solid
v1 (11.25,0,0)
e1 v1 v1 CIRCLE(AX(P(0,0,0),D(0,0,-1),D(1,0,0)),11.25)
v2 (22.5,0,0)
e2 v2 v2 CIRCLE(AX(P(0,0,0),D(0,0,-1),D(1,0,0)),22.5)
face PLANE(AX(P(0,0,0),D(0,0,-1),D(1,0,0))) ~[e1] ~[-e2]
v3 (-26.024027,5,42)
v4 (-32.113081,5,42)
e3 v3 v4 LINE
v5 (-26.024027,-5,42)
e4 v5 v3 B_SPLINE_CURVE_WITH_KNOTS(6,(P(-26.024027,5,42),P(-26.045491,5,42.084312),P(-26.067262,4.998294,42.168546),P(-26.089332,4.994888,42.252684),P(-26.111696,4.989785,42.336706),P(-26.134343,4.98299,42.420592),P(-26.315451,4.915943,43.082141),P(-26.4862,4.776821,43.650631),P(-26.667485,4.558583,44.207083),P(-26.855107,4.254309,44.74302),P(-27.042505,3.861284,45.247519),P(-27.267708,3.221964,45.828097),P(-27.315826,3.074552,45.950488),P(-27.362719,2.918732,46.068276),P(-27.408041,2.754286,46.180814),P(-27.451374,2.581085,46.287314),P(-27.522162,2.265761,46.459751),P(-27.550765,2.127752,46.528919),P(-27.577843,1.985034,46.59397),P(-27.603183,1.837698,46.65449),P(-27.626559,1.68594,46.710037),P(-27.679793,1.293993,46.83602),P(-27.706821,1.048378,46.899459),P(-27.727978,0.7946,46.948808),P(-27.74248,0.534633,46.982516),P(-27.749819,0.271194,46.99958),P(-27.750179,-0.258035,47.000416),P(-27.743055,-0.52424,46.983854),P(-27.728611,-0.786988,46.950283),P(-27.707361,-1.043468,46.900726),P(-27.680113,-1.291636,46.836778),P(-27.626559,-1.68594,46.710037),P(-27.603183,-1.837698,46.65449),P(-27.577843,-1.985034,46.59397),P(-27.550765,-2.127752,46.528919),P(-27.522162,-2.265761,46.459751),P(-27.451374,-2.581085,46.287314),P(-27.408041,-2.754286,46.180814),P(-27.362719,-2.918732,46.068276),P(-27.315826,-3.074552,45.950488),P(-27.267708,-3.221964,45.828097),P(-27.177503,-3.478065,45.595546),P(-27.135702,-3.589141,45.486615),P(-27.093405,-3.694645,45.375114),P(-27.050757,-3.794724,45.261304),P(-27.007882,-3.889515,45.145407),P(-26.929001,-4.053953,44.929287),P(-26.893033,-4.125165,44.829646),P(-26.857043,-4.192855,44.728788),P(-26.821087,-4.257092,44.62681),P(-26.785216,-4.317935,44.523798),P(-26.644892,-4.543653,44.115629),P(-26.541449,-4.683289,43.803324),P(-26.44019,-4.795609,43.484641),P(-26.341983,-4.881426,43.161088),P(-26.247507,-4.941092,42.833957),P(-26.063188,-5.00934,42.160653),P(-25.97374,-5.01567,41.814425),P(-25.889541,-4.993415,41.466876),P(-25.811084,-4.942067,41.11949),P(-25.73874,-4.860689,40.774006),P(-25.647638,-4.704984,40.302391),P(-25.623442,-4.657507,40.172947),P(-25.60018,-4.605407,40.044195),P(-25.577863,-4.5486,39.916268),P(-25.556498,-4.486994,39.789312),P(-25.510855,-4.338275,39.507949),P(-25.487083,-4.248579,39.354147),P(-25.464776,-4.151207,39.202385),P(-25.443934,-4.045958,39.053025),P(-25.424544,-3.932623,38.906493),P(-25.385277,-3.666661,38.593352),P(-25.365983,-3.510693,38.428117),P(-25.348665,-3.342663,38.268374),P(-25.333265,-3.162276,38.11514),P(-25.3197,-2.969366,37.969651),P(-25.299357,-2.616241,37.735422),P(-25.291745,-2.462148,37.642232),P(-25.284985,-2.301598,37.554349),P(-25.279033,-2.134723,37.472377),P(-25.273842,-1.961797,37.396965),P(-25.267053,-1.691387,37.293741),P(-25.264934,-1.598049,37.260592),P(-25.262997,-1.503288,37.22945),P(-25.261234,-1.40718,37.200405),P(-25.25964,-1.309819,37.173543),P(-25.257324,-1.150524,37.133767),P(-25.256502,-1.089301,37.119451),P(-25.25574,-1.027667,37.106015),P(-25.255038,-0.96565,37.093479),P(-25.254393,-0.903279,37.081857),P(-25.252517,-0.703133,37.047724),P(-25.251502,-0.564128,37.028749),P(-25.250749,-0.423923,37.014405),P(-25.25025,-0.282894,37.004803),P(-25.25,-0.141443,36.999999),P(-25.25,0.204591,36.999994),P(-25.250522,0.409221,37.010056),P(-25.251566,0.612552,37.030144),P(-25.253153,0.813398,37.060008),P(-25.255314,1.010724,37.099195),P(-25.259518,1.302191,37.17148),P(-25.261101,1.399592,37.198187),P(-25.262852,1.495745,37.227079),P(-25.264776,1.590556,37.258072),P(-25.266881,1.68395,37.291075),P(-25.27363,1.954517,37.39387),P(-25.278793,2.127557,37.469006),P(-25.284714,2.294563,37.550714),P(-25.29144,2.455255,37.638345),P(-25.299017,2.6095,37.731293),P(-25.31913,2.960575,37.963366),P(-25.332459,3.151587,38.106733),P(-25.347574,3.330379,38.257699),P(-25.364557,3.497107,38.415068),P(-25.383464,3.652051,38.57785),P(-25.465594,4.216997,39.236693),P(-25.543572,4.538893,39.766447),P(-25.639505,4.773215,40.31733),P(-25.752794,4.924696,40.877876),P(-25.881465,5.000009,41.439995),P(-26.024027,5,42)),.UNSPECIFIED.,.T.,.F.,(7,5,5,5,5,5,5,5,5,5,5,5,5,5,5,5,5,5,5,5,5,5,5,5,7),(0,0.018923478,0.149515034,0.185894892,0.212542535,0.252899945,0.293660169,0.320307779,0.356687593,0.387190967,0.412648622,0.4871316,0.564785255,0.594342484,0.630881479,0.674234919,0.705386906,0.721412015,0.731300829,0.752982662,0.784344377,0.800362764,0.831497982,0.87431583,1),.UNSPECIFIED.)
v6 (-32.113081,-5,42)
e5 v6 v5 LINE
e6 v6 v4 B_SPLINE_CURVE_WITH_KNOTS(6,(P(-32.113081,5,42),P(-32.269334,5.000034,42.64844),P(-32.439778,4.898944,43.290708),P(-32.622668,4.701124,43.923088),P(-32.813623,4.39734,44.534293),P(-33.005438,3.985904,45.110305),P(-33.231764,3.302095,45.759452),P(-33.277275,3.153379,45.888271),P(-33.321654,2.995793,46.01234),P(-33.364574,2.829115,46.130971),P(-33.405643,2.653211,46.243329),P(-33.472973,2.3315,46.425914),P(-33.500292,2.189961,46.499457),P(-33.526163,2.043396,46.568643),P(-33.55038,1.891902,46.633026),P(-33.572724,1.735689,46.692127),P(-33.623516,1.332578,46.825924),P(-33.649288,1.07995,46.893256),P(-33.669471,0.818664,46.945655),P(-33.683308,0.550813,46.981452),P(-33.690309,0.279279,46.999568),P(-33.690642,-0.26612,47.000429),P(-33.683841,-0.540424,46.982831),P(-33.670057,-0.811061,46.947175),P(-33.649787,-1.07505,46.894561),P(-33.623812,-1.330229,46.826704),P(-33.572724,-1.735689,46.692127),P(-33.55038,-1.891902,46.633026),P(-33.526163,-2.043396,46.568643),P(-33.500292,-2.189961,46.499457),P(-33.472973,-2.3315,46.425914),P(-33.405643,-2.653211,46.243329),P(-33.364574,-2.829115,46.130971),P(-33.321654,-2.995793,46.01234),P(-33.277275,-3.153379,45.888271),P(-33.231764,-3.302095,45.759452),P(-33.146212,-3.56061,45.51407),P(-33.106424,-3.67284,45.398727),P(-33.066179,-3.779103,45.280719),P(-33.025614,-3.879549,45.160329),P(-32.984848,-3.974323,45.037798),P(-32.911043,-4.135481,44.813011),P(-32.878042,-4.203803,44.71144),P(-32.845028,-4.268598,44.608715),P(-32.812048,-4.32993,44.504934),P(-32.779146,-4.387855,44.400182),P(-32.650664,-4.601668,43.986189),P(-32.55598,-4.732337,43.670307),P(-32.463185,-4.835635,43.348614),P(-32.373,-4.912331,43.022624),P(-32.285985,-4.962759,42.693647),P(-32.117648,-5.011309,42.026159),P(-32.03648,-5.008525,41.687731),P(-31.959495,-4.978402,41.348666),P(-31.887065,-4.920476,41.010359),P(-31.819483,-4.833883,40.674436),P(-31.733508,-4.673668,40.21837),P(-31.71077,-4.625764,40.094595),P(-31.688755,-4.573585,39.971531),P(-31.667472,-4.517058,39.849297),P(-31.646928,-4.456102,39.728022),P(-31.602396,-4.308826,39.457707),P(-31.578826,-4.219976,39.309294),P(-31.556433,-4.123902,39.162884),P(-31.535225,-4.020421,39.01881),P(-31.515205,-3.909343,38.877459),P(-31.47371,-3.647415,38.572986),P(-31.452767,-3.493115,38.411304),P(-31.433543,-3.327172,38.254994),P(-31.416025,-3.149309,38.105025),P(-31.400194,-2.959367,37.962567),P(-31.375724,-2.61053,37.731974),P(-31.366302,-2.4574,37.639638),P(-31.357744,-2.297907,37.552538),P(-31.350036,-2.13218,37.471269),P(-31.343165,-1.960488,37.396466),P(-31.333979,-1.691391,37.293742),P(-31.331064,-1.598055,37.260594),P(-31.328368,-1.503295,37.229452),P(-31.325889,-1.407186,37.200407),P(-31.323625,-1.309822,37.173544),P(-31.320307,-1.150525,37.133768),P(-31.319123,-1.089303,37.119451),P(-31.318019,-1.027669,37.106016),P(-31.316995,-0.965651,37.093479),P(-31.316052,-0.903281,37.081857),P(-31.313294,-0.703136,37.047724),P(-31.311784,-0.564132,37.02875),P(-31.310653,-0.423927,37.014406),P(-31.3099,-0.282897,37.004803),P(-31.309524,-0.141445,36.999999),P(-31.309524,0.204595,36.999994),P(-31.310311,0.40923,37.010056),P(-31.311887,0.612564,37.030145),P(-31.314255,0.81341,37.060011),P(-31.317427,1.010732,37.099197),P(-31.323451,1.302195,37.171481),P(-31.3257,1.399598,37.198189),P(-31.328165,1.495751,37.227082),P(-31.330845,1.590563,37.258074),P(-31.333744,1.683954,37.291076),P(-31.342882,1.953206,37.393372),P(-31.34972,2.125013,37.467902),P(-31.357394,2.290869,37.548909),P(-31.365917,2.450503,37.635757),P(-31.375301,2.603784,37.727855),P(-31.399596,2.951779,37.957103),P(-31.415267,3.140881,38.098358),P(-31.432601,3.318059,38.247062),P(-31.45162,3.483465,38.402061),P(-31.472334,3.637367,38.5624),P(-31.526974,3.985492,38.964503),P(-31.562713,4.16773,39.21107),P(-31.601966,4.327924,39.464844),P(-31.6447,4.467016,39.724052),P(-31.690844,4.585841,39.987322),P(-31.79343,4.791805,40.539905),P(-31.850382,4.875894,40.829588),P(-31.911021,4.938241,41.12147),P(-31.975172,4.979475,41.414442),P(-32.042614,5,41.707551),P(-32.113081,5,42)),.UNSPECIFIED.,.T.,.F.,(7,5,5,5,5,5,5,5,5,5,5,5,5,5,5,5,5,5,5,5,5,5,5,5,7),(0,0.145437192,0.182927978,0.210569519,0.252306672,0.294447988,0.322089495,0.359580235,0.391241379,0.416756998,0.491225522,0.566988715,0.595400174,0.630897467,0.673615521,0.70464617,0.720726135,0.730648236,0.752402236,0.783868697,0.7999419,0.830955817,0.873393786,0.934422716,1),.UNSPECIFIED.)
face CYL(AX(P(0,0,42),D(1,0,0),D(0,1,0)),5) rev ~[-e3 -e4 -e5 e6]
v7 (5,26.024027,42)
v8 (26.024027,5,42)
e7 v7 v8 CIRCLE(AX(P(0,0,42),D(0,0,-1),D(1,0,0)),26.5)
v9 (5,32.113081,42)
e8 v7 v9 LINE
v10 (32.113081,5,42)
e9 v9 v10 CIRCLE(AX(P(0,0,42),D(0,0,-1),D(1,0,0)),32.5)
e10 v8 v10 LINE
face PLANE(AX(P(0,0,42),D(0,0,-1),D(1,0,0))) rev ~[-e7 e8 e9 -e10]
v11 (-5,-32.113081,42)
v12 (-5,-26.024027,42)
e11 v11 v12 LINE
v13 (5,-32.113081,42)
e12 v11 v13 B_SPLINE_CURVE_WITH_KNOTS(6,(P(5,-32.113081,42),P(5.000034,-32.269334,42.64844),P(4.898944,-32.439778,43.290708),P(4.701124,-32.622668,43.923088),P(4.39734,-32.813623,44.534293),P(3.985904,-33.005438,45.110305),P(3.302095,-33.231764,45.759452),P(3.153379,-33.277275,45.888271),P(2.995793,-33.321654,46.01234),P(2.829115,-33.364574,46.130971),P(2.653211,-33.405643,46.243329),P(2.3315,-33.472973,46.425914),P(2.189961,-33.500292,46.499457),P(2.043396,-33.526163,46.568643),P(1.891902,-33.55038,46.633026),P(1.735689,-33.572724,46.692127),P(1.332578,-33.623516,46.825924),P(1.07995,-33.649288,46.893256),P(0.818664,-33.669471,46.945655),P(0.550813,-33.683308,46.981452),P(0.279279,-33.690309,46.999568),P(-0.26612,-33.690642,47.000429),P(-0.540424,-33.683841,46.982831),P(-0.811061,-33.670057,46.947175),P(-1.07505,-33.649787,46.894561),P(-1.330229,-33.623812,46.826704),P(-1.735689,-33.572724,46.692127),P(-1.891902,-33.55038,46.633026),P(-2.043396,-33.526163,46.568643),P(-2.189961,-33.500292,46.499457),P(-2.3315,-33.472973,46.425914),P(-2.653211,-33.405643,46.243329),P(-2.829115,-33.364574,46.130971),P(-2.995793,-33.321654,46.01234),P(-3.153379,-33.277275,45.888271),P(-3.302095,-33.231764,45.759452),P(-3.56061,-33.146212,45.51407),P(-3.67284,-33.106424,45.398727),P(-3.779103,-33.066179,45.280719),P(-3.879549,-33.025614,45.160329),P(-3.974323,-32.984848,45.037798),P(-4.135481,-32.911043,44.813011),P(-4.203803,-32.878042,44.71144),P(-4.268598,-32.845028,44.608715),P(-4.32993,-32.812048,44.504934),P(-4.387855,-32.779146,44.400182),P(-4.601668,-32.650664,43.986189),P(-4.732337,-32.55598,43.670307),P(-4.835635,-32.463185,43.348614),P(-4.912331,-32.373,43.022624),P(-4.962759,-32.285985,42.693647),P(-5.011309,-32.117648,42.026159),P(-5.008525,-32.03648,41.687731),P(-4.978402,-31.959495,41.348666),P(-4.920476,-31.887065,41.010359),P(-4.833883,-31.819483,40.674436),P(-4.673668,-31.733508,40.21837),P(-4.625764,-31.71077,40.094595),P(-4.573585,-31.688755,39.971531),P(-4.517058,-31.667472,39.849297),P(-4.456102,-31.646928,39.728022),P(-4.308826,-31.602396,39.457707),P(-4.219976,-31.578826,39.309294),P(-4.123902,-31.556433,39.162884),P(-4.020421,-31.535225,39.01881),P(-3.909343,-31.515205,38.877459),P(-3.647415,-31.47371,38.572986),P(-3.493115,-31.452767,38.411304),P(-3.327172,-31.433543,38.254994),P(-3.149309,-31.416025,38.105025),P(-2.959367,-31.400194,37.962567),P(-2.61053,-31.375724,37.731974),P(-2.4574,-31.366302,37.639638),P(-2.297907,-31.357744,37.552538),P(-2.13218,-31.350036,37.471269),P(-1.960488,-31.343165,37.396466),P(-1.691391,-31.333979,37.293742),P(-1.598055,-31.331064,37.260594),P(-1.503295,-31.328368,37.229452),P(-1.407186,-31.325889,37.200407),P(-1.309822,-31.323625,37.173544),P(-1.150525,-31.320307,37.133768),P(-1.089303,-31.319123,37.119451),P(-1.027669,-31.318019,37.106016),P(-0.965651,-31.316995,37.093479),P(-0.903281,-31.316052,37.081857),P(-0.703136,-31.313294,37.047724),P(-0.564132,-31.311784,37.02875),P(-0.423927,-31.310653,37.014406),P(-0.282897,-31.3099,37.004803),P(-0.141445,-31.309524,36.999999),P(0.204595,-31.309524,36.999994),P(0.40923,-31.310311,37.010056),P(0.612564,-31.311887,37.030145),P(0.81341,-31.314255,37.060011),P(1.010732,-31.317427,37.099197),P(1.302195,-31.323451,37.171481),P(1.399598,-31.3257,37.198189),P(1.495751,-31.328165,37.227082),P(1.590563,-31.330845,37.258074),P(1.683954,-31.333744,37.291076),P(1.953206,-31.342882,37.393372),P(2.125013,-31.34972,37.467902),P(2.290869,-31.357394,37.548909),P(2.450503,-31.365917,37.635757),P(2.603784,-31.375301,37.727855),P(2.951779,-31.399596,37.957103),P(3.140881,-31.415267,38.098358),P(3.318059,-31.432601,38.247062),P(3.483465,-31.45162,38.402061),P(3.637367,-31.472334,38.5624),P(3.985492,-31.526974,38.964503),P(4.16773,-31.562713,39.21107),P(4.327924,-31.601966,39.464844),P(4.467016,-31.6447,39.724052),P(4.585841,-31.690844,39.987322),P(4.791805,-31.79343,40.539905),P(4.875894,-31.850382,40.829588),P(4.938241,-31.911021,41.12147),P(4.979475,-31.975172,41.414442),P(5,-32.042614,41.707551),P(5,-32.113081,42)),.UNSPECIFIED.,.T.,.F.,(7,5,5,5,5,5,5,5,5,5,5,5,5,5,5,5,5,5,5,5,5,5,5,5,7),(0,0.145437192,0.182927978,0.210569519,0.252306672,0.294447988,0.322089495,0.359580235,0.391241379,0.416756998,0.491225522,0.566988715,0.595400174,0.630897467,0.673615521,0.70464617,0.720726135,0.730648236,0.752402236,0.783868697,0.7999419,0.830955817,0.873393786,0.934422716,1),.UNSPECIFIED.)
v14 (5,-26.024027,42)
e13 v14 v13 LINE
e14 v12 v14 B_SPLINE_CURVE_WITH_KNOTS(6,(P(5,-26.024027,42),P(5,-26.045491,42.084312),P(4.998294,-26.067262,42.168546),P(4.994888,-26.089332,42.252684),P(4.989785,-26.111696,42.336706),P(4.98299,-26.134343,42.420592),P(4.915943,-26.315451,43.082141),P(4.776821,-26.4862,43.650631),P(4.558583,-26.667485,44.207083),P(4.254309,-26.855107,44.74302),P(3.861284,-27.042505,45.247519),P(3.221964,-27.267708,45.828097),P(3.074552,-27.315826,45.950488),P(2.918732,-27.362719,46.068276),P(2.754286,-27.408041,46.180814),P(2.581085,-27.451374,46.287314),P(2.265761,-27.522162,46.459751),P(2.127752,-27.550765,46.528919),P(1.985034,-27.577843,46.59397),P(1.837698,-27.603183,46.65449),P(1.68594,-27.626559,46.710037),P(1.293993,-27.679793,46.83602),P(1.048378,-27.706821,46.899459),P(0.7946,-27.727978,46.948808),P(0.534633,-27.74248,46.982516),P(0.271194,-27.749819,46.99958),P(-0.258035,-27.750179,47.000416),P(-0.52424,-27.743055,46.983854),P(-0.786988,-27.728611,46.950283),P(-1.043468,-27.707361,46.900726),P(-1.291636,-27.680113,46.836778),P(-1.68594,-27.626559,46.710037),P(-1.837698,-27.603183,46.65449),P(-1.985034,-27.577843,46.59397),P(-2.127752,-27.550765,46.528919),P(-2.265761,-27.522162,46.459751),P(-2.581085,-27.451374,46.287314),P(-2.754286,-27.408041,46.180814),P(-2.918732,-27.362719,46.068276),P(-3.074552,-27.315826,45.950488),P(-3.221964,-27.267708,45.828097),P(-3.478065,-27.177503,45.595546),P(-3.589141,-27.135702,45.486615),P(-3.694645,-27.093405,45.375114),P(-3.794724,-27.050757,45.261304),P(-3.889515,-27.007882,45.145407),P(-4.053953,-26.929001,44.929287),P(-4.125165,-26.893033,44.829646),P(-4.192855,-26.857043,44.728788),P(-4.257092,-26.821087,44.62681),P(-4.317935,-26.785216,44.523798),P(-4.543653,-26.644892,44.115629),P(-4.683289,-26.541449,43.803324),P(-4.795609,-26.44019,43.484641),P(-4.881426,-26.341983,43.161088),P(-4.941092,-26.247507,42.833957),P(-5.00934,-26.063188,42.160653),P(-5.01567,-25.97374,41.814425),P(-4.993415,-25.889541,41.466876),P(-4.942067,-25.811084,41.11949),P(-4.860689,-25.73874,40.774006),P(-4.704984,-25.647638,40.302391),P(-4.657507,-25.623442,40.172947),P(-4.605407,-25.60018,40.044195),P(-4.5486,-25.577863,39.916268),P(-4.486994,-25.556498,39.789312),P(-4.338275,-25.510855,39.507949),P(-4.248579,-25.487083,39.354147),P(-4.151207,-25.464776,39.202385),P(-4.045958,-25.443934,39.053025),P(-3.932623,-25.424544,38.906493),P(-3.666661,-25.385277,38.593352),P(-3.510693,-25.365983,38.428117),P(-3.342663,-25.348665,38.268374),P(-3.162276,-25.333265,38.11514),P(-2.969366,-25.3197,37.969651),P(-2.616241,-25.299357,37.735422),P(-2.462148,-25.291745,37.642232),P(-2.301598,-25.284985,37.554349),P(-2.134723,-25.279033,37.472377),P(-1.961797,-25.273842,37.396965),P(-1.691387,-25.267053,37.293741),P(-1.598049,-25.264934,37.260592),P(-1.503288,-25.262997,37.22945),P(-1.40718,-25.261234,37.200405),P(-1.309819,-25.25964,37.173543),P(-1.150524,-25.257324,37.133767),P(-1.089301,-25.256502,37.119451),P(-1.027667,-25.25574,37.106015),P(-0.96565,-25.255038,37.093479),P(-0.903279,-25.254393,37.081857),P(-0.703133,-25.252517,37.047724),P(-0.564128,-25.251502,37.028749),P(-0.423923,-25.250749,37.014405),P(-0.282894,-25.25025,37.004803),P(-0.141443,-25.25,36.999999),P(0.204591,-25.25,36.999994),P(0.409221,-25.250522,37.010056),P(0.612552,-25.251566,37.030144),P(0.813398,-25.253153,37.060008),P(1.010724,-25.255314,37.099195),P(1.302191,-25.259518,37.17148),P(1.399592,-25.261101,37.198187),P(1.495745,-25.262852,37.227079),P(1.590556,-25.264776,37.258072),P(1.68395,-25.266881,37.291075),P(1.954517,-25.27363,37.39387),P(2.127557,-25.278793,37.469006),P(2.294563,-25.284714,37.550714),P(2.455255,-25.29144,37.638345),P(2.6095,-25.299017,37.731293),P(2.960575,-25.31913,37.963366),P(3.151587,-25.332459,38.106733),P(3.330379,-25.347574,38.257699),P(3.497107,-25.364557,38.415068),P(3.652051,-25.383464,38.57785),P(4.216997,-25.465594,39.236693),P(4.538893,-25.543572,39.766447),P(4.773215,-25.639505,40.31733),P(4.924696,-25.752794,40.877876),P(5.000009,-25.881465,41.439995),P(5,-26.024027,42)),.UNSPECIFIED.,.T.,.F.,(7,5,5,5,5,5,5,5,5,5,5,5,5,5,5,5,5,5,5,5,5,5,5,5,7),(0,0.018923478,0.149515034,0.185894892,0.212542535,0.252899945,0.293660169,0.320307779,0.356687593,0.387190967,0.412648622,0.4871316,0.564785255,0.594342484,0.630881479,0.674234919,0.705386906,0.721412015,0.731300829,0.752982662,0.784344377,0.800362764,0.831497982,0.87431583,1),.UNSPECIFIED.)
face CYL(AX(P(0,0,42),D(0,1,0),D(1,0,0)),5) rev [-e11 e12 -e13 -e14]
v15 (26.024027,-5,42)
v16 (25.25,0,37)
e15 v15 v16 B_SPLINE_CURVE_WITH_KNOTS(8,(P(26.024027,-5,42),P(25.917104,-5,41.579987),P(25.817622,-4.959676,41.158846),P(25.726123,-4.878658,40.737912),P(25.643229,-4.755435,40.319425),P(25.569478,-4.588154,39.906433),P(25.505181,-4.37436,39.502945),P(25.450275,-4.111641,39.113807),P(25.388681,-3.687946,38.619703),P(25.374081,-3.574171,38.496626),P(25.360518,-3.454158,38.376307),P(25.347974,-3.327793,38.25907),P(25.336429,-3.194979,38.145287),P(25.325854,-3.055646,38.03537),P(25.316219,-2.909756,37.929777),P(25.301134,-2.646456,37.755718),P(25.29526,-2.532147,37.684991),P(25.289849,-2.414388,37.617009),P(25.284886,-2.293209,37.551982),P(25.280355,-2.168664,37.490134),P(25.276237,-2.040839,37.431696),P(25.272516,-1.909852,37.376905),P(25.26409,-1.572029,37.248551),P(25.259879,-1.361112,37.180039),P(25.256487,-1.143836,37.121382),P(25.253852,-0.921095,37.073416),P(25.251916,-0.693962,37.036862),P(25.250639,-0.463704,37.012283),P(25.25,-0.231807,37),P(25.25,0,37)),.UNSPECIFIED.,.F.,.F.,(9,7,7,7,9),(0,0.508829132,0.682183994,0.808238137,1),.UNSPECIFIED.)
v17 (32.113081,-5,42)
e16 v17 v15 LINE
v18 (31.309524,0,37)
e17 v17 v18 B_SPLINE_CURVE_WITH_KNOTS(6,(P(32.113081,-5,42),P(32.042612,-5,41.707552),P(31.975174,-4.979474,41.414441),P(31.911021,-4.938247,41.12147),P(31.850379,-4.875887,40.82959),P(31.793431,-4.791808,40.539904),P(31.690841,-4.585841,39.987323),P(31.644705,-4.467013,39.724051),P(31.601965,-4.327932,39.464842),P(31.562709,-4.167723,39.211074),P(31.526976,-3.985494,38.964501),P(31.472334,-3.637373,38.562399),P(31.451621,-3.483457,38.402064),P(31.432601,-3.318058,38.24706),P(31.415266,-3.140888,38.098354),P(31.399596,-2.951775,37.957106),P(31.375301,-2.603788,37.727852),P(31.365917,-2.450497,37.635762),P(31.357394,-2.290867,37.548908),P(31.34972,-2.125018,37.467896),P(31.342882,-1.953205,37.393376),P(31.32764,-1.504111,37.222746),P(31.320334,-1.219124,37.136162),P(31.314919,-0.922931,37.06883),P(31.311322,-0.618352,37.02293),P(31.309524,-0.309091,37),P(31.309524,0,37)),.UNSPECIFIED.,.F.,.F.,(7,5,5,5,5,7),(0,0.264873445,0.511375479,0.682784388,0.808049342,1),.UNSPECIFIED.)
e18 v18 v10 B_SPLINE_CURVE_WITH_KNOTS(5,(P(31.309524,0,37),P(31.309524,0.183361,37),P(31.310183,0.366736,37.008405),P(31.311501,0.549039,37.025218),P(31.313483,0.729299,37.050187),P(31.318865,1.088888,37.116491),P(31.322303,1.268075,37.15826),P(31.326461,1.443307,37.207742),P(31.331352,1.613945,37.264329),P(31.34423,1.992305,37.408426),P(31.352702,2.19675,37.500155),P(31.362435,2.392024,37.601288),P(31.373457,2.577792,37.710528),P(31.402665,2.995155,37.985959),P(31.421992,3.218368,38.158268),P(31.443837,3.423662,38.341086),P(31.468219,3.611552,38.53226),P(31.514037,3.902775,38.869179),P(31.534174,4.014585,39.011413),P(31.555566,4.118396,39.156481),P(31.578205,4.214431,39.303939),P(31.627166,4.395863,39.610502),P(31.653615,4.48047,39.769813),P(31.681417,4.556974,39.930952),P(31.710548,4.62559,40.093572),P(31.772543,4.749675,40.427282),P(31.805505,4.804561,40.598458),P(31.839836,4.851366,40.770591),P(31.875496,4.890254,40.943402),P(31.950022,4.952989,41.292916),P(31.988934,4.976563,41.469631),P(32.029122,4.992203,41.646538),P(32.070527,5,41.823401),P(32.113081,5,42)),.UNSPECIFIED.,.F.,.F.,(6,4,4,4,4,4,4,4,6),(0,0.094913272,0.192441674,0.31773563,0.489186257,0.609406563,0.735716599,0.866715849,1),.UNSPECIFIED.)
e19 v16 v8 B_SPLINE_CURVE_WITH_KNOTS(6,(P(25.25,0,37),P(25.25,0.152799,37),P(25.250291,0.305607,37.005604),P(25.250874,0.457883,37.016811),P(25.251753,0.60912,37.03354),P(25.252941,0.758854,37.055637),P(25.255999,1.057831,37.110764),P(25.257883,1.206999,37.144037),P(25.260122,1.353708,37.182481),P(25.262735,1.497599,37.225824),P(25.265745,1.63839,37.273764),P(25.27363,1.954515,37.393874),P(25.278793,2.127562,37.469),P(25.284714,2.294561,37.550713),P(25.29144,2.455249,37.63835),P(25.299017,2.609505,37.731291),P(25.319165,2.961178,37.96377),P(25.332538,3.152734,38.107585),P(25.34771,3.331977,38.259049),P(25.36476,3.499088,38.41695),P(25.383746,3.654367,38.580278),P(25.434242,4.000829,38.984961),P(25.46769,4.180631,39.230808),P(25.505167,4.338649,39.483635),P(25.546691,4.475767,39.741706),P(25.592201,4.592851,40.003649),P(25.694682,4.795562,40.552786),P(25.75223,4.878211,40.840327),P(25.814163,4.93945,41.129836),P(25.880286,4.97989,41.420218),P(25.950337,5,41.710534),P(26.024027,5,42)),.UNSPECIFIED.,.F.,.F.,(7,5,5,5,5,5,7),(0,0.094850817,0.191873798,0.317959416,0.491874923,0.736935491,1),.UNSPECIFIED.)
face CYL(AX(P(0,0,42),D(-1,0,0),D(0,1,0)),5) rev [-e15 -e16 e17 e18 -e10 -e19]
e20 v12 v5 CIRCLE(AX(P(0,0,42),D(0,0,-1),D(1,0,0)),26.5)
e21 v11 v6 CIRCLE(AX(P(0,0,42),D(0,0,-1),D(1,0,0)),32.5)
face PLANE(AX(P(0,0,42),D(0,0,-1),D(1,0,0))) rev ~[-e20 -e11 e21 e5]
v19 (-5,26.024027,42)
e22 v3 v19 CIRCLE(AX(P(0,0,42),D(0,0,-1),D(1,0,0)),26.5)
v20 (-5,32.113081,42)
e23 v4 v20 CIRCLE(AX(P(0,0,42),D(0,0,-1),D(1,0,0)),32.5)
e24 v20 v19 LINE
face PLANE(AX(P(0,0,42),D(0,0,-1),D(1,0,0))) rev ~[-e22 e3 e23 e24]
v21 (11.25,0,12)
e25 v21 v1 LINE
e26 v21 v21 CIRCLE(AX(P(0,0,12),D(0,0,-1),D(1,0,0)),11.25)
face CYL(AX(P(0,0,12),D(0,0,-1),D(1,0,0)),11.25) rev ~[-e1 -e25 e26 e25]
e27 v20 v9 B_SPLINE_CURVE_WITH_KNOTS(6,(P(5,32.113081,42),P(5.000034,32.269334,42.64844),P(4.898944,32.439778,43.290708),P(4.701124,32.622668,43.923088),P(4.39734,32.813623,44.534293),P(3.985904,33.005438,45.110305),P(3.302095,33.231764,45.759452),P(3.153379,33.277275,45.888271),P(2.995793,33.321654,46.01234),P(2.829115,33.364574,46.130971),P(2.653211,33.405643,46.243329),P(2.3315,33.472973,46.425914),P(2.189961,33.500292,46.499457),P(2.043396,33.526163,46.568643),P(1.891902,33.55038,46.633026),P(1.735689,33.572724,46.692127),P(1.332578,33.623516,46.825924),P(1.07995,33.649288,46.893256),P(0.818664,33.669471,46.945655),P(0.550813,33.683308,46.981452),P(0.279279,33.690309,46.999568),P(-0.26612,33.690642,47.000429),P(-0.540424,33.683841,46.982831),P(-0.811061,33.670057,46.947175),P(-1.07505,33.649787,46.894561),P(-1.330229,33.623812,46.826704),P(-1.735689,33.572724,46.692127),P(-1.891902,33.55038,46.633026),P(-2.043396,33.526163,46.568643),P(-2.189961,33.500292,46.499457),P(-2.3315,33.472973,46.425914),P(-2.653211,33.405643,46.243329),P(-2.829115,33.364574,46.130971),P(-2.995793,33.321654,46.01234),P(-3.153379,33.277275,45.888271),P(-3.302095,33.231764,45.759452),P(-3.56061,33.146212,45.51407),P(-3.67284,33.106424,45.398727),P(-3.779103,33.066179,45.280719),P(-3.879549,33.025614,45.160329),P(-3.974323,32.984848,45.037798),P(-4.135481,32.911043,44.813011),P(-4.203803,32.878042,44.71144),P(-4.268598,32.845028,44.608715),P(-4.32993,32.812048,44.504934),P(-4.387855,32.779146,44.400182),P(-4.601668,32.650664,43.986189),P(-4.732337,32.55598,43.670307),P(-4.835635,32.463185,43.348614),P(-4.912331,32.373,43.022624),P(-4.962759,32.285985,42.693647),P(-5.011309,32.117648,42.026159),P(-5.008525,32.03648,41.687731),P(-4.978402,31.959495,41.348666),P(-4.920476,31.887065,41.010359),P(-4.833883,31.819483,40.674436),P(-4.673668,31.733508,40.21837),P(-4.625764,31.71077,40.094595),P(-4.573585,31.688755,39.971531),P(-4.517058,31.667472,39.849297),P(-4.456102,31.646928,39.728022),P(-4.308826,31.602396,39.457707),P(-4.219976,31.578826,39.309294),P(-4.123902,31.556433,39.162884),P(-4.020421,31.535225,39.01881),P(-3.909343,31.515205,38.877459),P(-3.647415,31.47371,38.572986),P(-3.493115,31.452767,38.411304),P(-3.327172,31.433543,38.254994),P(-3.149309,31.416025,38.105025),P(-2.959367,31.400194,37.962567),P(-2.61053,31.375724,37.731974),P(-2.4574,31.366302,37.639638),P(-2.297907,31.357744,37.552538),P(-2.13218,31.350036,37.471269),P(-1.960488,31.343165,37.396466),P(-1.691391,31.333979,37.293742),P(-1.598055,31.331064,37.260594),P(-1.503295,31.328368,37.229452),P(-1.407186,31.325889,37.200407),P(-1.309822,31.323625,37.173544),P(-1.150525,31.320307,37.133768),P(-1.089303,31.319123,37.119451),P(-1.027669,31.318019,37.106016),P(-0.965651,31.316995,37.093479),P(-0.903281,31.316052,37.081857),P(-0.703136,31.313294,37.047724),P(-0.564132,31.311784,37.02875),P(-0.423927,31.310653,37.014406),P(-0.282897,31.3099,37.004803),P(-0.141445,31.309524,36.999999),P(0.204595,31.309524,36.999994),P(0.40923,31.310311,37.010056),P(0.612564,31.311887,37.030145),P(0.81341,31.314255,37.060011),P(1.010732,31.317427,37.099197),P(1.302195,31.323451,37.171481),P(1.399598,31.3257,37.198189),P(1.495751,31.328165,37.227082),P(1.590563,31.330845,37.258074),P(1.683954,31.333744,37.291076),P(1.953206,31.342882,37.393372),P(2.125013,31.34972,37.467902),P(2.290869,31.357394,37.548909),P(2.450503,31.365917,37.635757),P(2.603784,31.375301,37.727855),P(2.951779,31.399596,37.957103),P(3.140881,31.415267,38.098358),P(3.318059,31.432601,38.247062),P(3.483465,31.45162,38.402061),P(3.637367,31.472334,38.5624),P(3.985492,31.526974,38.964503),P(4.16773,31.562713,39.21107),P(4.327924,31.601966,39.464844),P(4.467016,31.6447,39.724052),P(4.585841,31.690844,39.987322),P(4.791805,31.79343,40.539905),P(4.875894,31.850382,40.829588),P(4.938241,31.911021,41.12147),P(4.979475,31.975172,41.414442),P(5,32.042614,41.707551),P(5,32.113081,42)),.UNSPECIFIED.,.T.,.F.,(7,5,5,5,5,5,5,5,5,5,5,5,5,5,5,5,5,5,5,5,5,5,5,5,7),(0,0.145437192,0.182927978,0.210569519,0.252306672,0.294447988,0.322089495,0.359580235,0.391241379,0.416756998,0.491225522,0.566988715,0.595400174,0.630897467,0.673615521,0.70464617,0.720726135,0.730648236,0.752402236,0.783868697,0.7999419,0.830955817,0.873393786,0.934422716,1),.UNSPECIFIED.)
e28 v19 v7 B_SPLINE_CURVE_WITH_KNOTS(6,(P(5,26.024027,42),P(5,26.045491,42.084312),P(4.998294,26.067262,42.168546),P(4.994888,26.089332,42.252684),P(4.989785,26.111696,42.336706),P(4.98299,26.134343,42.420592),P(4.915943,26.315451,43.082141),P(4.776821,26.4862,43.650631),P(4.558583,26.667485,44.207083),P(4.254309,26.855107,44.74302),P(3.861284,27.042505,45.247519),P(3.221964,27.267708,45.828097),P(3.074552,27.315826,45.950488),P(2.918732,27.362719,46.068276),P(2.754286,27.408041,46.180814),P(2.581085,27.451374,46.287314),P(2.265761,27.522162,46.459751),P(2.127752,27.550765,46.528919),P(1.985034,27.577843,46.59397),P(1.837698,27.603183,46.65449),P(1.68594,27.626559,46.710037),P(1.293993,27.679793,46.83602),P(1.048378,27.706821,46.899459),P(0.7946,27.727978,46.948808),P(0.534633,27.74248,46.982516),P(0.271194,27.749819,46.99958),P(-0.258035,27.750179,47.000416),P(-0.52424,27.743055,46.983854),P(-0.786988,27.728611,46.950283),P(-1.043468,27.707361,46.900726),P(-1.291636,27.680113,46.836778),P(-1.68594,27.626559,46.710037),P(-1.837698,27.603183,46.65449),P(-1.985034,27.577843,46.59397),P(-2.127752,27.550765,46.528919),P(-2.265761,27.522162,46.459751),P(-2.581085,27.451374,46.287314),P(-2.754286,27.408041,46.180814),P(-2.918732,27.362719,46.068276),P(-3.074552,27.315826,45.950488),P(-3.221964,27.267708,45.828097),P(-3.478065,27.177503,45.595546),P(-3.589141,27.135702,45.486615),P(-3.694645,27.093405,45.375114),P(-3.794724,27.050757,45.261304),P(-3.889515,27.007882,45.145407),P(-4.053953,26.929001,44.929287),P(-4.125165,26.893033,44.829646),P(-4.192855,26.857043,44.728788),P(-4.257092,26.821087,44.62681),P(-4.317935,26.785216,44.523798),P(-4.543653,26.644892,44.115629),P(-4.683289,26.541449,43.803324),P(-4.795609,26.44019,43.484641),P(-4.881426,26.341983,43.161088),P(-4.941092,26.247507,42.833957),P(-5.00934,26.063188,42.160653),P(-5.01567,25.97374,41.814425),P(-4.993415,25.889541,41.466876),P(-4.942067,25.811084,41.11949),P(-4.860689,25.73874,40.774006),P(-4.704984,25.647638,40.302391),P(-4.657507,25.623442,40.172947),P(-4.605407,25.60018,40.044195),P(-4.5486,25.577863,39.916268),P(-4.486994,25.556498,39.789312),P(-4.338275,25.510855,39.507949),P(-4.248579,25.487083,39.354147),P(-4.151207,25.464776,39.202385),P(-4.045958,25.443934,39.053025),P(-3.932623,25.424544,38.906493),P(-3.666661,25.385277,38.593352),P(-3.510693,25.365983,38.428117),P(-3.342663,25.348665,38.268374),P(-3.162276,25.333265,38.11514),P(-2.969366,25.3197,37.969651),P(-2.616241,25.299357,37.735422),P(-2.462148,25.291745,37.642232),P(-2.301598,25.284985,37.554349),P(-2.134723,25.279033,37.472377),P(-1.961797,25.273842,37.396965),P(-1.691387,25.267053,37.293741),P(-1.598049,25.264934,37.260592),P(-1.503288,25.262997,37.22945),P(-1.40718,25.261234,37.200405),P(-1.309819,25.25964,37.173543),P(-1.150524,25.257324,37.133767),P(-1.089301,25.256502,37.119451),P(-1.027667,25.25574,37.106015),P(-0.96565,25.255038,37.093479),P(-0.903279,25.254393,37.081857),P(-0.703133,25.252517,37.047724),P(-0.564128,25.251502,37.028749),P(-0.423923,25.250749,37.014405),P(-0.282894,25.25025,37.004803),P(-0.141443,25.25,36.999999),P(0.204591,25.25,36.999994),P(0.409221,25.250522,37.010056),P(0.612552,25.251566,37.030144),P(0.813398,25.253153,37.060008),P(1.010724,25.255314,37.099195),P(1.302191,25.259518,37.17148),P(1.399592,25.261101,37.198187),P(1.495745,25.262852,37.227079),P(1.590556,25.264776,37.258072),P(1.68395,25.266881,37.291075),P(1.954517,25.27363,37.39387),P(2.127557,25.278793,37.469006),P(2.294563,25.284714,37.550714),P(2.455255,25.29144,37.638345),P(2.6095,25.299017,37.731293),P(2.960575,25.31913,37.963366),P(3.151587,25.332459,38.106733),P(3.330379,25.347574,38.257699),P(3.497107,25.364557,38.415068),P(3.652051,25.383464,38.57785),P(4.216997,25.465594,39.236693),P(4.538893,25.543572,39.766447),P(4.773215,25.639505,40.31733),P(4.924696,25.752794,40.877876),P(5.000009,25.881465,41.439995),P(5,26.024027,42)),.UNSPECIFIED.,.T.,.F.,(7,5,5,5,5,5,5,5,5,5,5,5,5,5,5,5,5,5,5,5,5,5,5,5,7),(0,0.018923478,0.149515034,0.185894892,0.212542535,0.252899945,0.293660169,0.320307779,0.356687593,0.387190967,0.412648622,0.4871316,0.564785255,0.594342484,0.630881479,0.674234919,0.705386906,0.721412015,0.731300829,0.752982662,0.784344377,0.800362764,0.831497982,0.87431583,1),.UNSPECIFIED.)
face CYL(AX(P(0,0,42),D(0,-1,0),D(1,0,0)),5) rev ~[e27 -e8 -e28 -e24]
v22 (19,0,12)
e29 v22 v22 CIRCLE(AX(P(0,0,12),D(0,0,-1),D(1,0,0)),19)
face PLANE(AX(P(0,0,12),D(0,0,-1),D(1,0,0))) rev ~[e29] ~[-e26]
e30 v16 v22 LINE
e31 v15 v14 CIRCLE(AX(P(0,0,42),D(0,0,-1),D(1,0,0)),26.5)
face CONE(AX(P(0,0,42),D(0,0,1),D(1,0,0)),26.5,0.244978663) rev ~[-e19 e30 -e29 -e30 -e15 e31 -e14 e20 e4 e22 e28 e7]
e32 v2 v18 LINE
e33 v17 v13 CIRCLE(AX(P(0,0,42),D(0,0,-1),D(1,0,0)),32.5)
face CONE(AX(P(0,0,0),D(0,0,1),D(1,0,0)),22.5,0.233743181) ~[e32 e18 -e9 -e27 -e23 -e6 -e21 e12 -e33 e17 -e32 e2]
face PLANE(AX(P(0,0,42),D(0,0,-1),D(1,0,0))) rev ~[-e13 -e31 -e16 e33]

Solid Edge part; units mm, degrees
sketch "Sketch1" plane through (0, 0, 0) normal (0, -1, 0) x (1, 0, 0)
  line L0 (11.25, 0) -> (22.5, 0)
  line L1 (22.5, 0) -> (32.5, 42)
  line L2 (32.5, 42) -> (26.5, 42)
  line L3 (26.5, 42) -> (19, 12)
  line L4 (19, 12) -> (11.25, 12)
  line L5 (11.25, 12) -> (11.25, 0)
  dimension "D1" = 11.25
  dimension "D2" = 22.5
  dimension "D3" = 6
  dimension "D4" = 42
  dimension "D5" = 32.5
  dimension "D6" = 19
  dimension "D7" = 12
revolve "RevolvedProtrusion1" add sketch "Sketch1" angle 360 about axis through (0, 0, 54) along (0, 0, -1)
sketch "Sketch2" plane through (0, 0, 0) normal (0, -1, 0) x (1, 0, 0)
  circle A0 centre (0, 42) radius 5
extrude "Cutout1" cut sketch "Sketch2" along normal mid plane 139.2818
sketch "Sketch3" plane through (0, 0, 0) normal (1, 0, 0) x (0, 1, 0)
  circle A0 centre (0, 42) radius 5
extrude "ExtrudedCutout_2" cut sketch "Sketch3" along normal mid plane 121.6254
properties part number "4" material "CAST STEEL"
